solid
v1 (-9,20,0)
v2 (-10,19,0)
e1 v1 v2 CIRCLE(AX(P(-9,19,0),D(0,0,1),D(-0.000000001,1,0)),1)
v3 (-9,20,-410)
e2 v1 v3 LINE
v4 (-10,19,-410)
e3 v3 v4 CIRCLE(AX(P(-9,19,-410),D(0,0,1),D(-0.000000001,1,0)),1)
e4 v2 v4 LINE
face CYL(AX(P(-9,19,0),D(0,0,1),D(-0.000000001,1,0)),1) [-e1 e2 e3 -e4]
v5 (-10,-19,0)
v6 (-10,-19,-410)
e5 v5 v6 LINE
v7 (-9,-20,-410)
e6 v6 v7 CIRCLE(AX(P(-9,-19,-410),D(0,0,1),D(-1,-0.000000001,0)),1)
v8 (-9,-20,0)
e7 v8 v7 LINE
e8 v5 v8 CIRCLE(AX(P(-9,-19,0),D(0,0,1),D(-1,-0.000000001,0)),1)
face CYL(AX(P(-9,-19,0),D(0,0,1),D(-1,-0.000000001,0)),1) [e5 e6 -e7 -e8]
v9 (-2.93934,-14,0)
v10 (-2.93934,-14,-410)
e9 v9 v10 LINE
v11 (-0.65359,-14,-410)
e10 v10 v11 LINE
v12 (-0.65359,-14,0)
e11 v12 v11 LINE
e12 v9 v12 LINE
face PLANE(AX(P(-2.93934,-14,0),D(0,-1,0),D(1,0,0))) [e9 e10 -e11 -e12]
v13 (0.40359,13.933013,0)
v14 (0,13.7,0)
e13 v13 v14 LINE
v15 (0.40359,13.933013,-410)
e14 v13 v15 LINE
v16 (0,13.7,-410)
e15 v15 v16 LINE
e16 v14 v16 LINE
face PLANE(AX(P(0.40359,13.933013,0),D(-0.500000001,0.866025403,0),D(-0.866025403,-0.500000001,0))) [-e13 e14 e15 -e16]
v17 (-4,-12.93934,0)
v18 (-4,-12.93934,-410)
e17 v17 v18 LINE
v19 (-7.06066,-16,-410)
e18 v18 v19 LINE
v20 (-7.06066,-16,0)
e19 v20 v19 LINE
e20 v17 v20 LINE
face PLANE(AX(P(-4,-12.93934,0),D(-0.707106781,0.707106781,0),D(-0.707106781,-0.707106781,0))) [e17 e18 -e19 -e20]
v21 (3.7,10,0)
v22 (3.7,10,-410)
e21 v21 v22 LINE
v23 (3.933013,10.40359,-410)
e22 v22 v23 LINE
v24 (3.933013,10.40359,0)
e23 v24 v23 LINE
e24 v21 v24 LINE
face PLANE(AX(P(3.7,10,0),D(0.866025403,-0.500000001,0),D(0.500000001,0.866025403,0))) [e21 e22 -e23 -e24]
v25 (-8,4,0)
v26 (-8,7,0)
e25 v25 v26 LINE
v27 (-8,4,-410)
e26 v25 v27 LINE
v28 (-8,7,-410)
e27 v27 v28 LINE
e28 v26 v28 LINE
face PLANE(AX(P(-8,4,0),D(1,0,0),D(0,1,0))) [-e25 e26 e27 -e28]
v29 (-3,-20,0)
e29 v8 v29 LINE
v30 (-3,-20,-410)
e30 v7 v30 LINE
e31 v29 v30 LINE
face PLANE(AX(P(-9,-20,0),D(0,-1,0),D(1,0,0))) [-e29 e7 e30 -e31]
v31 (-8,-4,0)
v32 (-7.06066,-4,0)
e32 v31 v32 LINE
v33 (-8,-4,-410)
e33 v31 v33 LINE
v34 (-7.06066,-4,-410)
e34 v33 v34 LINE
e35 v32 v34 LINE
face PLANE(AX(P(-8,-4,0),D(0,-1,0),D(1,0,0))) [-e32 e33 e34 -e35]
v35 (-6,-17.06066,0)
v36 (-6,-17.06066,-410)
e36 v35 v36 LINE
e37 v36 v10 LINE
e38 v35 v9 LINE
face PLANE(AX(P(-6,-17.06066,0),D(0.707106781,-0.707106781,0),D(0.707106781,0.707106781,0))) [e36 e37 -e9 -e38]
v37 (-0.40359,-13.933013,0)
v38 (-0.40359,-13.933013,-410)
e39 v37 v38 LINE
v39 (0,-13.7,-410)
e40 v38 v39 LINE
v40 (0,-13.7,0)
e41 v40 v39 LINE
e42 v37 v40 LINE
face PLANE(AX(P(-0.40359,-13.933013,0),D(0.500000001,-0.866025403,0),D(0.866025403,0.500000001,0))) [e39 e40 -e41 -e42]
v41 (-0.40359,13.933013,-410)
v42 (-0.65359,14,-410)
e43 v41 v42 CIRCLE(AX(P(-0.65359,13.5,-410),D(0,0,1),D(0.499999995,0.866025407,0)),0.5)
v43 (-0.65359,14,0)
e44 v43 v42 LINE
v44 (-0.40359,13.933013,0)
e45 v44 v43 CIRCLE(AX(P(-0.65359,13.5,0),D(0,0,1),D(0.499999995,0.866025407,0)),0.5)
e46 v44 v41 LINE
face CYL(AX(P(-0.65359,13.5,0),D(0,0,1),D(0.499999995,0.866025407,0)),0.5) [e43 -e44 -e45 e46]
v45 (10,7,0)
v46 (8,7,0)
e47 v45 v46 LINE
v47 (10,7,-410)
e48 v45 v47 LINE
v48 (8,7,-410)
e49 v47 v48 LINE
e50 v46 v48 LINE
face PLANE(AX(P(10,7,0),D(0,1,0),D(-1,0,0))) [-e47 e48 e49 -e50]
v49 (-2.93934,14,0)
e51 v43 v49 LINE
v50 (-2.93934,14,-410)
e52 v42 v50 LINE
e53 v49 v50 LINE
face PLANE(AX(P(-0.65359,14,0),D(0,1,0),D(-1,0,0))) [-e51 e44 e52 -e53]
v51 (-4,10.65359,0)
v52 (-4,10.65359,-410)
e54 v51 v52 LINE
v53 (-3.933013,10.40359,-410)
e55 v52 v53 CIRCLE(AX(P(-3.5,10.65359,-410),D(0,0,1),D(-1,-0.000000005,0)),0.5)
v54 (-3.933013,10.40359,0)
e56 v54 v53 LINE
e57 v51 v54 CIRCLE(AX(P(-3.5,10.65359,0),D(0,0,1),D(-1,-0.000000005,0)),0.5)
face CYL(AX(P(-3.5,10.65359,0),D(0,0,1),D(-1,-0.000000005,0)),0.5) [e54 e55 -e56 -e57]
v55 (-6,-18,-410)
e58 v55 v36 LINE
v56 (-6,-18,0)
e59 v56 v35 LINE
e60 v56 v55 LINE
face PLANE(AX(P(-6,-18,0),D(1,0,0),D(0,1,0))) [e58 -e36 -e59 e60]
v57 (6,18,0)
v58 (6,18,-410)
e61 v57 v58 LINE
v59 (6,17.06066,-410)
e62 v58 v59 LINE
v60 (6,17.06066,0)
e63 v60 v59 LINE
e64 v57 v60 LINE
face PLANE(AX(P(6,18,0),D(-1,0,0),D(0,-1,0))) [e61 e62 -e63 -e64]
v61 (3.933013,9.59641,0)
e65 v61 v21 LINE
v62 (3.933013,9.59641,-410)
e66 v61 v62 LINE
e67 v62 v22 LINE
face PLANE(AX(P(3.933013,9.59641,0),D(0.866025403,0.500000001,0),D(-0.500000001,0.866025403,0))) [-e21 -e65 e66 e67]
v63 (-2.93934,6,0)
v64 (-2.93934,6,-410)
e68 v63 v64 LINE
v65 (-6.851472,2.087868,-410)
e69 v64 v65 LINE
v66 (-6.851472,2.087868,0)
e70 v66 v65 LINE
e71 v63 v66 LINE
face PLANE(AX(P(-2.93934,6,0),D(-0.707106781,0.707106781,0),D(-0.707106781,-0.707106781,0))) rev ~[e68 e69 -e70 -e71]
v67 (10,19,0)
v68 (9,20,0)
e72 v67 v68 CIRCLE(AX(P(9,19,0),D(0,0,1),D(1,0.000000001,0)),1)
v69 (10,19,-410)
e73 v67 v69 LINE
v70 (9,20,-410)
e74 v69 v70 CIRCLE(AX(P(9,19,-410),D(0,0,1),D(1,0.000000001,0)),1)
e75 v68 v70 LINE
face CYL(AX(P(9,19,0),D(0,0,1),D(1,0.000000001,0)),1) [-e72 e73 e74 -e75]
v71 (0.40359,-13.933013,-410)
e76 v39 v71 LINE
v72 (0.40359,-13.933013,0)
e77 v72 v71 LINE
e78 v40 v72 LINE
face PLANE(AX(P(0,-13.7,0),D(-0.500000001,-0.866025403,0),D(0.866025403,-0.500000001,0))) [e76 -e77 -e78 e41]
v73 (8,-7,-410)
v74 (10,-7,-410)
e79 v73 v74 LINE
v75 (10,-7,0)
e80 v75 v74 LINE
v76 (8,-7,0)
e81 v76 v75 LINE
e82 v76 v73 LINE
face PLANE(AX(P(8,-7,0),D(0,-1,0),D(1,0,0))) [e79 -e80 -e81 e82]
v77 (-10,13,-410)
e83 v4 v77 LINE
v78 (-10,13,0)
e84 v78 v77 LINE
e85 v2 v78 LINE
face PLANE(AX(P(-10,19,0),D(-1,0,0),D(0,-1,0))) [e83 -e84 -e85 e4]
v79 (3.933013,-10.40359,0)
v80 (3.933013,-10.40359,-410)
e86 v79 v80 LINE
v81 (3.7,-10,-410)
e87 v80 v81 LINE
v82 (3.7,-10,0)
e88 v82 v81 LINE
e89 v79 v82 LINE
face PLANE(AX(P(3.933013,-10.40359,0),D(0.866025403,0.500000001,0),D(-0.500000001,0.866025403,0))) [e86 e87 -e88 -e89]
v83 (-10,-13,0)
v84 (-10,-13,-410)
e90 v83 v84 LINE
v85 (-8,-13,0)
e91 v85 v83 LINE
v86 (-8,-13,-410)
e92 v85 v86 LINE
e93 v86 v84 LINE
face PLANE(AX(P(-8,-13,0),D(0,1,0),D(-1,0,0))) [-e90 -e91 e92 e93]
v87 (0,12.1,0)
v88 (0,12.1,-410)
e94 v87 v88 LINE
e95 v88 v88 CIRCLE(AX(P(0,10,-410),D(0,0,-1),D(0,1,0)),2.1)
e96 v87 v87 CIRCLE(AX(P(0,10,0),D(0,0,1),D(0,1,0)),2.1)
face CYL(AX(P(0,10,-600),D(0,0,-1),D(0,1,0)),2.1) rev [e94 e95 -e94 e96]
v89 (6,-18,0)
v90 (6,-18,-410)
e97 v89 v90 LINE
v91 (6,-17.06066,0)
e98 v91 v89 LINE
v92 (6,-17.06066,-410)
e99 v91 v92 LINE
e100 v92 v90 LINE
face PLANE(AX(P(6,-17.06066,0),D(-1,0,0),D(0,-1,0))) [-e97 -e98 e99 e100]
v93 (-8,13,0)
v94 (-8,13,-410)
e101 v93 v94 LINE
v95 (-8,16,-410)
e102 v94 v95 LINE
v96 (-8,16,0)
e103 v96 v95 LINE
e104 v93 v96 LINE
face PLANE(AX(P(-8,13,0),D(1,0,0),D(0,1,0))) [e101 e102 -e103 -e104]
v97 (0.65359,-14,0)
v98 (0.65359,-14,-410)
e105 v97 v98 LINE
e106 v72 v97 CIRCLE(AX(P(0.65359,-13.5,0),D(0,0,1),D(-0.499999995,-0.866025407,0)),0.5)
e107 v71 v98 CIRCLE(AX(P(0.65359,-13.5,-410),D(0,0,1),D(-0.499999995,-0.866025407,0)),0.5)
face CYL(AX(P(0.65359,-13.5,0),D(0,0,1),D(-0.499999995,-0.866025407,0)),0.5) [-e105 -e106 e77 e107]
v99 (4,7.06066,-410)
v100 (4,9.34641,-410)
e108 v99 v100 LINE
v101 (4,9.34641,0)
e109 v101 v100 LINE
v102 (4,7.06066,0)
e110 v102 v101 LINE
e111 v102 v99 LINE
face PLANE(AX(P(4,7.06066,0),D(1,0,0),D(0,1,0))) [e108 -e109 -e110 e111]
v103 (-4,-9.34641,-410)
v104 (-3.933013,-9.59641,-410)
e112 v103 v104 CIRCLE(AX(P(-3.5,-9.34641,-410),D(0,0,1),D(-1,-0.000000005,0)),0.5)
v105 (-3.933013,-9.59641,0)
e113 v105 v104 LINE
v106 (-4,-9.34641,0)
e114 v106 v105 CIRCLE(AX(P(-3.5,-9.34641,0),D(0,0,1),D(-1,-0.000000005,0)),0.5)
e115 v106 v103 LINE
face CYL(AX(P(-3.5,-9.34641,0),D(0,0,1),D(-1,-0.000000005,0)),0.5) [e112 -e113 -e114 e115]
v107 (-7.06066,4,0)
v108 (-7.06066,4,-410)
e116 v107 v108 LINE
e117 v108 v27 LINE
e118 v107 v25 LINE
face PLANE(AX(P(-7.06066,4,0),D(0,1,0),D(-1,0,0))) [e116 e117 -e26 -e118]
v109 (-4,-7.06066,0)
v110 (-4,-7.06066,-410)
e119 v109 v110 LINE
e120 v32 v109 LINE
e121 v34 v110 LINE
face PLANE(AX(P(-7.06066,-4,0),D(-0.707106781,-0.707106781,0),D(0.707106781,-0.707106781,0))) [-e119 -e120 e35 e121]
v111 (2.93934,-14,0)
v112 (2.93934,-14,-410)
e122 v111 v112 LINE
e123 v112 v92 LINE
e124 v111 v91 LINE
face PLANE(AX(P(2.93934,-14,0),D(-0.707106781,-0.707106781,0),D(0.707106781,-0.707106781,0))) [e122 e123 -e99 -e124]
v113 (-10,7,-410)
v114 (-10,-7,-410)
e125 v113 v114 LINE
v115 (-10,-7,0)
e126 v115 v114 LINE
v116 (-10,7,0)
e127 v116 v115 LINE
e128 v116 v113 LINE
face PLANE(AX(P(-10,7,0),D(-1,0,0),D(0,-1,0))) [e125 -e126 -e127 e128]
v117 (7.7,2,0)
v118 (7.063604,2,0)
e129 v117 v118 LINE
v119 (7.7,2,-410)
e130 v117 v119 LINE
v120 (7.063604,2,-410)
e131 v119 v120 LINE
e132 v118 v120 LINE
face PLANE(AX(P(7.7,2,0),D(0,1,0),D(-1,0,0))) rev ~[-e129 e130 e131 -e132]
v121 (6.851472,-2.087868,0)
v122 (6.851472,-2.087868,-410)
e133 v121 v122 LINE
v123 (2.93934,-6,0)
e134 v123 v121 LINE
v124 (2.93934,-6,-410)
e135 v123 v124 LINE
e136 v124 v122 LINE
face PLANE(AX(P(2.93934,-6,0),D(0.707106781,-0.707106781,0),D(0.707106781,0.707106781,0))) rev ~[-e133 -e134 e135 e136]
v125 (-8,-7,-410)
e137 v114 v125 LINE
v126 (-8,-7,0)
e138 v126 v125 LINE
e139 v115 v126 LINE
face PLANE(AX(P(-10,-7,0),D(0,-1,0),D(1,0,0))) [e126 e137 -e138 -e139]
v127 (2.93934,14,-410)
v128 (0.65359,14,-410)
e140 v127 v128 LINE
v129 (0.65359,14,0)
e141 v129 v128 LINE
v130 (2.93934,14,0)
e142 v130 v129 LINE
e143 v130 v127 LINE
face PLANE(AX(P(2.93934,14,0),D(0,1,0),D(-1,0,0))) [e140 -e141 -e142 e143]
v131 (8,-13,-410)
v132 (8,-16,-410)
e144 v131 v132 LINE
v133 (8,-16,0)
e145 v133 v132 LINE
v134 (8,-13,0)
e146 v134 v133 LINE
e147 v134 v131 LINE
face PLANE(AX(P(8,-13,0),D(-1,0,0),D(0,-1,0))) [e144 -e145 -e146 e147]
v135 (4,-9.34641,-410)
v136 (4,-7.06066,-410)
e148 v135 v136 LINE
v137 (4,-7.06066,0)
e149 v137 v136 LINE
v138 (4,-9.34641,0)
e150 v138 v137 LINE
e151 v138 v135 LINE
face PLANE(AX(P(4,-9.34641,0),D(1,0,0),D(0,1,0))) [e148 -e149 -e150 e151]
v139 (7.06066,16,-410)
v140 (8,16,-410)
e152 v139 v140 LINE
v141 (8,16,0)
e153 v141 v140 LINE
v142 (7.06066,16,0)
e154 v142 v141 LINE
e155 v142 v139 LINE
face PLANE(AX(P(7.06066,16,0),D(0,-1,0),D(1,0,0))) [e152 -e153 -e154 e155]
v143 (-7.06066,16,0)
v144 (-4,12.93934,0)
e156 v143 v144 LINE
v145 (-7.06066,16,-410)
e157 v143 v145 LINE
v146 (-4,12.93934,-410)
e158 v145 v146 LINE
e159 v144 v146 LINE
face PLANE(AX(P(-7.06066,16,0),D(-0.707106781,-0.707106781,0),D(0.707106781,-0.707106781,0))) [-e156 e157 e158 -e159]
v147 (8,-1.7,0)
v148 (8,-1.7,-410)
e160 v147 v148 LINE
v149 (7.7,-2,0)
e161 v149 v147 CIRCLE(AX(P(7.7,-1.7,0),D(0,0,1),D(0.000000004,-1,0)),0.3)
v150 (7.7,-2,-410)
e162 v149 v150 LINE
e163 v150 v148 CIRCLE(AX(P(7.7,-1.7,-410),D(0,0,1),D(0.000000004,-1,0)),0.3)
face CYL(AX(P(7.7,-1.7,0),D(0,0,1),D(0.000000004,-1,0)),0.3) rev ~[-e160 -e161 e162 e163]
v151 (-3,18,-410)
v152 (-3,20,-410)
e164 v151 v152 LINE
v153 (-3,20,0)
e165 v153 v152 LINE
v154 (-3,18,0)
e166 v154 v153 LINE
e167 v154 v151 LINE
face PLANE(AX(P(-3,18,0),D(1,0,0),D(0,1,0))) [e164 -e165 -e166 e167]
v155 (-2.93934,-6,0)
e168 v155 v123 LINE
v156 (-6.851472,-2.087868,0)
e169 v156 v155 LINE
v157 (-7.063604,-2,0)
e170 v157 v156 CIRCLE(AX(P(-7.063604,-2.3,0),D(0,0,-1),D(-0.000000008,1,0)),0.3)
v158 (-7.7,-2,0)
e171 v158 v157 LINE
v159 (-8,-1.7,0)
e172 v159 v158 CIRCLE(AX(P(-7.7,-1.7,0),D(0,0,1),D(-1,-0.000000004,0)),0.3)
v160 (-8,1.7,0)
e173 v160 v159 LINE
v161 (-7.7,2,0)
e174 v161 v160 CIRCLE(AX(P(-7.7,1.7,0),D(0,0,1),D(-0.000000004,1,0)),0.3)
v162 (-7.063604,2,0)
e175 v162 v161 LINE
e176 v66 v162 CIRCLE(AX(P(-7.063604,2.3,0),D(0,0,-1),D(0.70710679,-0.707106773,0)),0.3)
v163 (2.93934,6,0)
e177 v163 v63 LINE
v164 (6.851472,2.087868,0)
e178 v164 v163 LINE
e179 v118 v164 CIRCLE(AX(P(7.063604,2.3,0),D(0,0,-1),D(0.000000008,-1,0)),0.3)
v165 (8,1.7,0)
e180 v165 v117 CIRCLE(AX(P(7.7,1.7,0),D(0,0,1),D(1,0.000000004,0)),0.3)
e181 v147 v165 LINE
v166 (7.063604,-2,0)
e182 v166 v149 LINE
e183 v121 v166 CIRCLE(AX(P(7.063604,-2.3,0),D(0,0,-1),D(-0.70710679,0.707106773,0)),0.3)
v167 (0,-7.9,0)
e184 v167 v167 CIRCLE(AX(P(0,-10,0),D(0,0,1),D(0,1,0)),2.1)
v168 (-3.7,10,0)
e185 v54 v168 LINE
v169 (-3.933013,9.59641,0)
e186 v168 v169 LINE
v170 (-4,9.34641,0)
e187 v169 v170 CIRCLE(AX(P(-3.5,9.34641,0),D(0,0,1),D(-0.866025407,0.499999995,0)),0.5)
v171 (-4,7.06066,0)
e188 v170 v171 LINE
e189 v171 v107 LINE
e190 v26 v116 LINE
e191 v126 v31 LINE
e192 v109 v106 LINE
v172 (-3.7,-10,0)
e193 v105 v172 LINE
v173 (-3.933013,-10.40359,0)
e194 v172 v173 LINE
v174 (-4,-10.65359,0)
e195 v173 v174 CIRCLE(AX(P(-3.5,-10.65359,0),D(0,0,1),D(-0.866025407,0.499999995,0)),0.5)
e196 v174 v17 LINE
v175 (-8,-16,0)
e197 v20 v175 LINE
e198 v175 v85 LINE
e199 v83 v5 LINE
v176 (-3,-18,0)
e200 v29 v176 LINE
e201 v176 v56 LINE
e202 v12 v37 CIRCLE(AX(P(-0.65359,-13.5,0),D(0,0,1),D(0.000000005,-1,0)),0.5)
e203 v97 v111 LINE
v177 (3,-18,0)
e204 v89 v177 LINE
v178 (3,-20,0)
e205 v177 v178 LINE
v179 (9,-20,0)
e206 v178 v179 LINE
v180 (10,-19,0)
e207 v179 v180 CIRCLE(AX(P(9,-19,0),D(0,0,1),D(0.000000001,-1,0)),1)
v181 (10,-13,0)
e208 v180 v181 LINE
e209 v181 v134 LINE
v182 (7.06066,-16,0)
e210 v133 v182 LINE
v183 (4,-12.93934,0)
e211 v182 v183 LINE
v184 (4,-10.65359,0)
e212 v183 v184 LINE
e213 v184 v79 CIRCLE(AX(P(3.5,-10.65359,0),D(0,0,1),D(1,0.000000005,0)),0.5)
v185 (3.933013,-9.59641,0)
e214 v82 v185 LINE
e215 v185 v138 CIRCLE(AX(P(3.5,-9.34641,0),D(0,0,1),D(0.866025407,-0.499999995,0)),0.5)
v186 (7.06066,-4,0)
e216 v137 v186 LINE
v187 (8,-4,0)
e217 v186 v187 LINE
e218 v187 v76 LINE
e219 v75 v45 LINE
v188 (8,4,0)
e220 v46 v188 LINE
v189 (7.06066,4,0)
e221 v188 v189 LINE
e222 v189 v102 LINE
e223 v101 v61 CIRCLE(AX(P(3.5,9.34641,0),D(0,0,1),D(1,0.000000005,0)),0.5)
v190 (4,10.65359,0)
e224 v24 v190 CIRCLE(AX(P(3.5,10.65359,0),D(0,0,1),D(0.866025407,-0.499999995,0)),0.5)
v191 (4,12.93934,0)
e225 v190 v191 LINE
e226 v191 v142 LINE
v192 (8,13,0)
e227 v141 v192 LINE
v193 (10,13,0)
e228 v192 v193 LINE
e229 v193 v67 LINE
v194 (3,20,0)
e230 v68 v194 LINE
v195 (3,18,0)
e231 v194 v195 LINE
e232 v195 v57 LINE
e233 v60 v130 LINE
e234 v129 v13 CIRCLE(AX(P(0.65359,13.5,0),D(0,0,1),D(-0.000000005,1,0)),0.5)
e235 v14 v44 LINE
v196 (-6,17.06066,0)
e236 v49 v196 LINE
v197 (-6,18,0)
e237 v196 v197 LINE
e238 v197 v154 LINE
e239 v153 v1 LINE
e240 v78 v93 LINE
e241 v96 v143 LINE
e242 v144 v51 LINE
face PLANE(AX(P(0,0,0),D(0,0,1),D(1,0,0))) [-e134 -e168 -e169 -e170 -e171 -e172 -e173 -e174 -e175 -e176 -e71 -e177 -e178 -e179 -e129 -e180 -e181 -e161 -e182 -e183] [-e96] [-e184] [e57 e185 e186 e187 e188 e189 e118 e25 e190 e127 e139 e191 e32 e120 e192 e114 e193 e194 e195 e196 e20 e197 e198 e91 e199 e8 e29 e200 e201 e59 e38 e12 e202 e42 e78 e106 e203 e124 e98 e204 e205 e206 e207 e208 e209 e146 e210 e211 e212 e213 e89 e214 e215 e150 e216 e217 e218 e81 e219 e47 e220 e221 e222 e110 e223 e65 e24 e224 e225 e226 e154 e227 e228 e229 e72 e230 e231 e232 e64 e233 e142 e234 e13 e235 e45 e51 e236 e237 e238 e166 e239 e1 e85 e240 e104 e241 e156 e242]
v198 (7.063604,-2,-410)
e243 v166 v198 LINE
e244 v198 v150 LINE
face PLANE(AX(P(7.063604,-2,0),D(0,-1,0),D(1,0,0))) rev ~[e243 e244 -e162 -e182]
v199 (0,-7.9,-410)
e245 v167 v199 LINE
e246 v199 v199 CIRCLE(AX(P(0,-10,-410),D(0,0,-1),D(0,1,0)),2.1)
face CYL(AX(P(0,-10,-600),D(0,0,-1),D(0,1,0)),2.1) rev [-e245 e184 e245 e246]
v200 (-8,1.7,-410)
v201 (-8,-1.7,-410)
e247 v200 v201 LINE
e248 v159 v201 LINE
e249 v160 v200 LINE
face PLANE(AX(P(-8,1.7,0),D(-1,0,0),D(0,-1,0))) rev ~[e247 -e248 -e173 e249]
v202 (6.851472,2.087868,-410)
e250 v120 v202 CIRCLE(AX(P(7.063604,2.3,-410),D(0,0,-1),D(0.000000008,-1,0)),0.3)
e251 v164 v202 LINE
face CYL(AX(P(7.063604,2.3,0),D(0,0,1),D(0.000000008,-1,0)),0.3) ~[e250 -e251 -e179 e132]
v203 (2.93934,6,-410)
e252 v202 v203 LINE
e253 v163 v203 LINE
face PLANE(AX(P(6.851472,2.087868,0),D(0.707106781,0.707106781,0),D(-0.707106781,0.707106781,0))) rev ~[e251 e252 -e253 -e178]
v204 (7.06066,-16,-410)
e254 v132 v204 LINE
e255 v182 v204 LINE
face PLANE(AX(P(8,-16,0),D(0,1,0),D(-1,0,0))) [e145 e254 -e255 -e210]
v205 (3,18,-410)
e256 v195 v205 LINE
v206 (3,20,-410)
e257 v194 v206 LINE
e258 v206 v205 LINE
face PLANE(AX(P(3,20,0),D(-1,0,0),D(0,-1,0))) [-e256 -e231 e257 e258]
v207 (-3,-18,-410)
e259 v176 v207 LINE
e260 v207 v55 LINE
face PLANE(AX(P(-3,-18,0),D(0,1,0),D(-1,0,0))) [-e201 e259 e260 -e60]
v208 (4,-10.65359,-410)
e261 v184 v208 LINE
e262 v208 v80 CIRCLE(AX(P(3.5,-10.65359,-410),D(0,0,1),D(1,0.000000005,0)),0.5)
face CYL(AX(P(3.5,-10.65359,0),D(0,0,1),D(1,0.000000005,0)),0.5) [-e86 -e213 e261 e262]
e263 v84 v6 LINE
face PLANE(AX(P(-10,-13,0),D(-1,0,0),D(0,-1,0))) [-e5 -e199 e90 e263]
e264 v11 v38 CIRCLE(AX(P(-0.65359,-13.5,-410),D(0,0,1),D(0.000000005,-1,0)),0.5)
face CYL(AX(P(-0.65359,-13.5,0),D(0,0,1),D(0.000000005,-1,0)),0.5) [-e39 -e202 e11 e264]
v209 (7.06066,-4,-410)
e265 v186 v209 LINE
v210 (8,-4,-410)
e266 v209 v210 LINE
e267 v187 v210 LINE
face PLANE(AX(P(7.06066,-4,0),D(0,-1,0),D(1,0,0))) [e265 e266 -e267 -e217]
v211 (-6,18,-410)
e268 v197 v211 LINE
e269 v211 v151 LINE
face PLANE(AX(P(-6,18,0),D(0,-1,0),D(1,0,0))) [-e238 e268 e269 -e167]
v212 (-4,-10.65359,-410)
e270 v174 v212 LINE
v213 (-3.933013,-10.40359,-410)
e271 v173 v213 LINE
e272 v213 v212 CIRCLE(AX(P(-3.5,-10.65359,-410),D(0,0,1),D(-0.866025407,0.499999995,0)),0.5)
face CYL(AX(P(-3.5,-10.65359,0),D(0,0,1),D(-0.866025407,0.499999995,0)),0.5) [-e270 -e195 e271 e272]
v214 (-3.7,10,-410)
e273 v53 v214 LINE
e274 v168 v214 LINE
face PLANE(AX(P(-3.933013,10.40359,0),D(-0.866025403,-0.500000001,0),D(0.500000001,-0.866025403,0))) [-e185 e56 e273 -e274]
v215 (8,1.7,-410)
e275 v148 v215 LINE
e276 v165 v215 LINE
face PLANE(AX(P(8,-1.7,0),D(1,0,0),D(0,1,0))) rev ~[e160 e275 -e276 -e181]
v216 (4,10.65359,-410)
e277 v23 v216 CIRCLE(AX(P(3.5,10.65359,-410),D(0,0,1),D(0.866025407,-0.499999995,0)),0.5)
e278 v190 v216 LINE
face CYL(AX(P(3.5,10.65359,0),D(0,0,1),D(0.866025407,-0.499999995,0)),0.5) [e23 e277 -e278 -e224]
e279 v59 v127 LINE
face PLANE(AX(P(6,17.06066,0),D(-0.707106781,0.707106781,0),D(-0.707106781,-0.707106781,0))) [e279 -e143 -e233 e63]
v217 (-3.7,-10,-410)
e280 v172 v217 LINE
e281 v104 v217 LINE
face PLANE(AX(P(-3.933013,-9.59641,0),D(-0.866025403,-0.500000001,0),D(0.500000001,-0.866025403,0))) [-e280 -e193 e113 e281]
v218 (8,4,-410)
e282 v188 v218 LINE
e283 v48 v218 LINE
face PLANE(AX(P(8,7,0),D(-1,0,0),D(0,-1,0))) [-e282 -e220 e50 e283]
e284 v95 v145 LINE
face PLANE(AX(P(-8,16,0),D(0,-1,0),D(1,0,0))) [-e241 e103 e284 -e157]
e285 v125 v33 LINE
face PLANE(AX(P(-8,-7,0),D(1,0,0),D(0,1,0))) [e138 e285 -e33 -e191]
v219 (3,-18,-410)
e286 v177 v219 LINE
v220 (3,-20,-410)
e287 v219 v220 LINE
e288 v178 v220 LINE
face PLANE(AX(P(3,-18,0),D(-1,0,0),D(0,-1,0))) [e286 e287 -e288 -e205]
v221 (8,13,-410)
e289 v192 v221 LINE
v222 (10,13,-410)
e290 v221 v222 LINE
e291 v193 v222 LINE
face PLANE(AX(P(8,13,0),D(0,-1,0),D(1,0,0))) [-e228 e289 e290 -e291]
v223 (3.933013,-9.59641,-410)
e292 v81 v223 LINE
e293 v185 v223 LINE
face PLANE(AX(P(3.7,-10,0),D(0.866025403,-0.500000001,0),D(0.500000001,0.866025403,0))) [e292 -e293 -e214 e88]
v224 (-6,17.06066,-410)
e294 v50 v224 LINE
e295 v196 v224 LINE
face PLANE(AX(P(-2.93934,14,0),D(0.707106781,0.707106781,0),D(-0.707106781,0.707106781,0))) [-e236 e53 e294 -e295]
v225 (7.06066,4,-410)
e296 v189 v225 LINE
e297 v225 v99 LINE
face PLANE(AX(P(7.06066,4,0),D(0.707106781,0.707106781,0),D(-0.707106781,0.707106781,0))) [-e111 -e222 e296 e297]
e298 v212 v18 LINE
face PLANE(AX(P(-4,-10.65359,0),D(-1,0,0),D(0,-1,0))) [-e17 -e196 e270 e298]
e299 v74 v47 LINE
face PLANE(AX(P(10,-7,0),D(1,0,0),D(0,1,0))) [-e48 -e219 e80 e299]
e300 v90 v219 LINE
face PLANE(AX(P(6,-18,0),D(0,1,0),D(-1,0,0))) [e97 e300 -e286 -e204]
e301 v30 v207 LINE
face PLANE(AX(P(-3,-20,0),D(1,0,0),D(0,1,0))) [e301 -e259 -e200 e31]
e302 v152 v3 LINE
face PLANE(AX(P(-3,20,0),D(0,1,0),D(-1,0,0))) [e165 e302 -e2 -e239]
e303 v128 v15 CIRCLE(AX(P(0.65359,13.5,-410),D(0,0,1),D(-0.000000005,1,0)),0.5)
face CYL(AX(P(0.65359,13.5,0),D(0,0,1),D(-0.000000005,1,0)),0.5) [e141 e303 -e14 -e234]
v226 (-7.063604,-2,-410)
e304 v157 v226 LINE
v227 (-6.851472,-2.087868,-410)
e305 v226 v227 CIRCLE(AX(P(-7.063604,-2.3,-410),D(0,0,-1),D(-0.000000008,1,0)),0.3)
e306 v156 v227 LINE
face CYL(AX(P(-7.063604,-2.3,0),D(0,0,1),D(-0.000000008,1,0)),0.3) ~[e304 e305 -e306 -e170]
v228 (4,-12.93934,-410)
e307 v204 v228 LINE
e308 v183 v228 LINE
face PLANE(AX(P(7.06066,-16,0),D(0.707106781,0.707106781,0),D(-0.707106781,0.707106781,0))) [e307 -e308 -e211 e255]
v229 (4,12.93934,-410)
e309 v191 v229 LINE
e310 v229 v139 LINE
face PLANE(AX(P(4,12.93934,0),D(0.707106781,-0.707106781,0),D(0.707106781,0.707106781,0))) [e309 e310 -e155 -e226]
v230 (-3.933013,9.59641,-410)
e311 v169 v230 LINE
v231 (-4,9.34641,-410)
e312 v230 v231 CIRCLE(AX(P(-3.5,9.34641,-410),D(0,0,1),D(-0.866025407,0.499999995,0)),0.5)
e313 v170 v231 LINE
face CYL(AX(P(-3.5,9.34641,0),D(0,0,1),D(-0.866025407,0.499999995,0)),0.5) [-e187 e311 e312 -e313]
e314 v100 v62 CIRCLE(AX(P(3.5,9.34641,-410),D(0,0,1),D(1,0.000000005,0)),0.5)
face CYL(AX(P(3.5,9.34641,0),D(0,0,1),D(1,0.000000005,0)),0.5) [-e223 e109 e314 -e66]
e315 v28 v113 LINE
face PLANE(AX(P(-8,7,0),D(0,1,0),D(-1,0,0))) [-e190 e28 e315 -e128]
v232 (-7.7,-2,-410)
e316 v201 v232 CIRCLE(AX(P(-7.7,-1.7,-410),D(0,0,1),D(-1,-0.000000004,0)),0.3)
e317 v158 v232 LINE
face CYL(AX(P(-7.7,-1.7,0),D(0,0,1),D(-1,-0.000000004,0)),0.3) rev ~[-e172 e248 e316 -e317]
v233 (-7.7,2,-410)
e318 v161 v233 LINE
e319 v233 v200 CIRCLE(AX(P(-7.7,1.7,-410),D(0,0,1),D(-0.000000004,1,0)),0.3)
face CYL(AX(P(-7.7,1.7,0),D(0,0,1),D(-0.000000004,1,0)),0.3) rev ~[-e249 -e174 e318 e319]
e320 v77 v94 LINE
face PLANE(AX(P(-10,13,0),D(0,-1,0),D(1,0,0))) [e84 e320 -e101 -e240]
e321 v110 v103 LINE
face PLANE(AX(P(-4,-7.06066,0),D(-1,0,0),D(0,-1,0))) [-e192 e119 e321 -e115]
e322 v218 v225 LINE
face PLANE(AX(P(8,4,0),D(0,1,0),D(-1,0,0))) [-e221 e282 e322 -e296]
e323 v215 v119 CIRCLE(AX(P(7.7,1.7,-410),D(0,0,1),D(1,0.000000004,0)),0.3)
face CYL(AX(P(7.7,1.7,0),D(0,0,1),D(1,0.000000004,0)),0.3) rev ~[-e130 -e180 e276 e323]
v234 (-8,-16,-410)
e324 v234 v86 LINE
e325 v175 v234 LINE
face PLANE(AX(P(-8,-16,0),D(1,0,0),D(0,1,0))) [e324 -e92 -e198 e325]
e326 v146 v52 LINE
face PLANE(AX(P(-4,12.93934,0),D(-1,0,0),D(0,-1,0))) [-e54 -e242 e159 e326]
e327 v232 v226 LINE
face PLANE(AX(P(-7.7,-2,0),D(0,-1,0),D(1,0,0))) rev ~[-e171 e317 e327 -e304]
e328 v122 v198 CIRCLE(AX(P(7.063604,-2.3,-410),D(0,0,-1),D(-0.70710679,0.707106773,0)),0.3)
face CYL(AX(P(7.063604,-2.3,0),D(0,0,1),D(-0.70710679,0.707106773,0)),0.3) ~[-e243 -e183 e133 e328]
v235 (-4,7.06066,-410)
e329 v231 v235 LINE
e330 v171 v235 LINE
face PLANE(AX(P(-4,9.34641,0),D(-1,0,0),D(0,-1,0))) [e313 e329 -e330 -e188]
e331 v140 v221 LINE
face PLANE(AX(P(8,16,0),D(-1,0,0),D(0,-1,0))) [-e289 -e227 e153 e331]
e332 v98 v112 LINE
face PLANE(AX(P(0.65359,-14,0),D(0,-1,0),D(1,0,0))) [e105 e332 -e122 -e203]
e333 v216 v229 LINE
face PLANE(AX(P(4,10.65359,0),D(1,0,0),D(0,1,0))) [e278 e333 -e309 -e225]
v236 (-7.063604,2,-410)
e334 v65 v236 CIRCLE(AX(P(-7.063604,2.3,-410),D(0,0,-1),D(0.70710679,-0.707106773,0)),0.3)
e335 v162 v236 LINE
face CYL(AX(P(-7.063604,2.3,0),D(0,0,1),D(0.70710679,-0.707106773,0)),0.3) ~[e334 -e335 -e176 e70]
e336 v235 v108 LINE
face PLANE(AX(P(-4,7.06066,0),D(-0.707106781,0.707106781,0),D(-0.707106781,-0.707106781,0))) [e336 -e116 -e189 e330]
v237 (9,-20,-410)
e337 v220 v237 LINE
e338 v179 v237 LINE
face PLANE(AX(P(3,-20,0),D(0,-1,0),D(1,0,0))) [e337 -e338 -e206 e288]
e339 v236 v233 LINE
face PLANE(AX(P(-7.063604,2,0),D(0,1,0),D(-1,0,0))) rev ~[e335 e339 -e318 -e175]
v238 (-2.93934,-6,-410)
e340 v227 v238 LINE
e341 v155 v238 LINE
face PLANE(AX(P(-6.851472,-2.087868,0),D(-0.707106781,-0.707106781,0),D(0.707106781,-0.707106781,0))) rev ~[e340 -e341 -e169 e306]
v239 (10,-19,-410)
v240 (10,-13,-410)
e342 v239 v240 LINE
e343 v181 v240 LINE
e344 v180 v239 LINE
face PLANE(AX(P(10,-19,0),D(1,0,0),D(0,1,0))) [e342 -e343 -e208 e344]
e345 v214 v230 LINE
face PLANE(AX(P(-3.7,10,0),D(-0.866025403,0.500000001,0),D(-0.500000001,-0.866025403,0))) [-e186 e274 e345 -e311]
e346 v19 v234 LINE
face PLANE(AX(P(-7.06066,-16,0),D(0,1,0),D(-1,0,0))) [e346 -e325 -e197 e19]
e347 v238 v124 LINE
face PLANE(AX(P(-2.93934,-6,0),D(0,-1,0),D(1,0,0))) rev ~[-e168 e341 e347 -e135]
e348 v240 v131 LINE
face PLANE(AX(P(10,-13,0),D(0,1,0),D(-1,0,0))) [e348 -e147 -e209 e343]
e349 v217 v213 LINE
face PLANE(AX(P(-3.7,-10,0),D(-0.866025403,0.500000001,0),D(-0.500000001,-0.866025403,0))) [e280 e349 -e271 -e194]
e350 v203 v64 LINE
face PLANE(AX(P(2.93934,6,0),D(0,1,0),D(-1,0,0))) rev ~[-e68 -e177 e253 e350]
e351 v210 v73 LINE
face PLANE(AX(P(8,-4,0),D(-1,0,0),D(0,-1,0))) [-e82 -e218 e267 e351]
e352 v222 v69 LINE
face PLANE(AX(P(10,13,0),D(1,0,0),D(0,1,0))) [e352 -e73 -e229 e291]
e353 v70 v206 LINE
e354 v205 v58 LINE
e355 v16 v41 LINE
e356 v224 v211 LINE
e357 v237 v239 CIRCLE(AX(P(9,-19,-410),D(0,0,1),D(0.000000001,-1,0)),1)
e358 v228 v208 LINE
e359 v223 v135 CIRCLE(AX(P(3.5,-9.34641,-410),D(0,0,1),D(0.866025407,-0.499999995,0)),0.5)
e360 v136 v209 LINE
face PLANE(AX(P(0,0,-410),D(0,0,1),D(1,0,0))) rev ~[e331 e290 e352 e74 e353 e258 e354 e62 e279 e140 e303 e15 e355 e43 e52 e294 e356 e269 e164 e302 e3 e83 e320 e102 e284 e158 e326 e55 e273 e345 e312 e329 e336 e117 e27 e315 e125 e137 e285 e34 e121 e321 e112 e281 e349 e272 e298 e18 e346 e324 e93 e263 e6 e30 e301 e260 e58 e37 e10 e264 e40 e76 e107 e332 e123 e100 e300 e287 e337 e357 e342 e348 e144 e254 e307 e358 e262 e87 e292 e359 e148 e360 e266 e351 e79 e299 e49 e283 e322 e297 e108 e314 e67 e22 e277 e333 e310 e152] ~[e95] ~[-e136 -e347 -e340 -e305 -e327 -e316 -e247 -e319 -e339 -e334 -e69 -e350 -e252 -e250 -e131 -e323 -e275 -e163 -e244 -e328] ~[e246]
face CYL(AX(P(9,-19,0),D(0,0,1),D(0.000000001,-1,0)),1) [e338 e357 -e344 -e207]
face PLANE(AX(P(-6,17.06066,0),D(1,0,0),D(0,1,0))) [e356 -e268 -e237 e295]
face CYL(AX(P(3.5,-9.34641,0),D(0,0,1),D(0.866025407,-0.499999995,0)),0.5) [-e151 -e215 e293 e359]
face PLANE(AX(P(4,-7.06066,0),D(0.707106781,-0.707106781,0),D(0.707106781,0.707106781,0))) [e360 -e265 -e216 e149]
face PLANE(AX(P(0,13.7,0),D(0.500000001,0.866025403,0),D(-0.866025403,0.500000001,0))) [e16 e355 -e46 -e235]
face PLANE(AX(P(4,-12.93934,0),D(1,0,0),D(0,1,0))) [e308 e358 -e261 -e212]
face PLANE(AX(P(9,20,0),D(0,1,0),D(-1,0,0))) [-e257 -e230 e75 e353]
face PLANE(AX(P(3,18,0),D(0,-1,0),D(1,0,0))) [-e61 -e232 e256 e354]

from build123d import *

# Parameters (mm, degrees)
BOSS_EXTRUDE1_DEPTH = 410
SKETCH2_W           = 1200
SKETCH2_H           = 2.1
SKETCH3_W           = 1200
SKETCH3_H           = 2.1


with BuildPart() as part:
    # Sketch1 → Boss-Extrude1 (new body)
    with BuildSketch(Plane.XY):
        with BuildLine():
            Line((-9, -20), (-3, -20))
            Line((-3, -20), (-3, -18))
            Line((-3, -18), (-6, -18))
            Line((-6, -18), (-6, -17.060660172))
            Line((-6, -17.060660172), (-2.939339828, -14))
            Line((-2.939339828, -14), (-2.5, -14))
            Line((-2.5, -14), (-0.653589838, -14))
            ThreePointArc((-0.653589838, -14), (-0.524180316, -13.982962913), (-0.403589838, -13.933012702))
            Line((-0.403589838, -13.933012702), (0, -13.7))
            Line((0, -13.7), (0.403589838, -13.933012702))
            ThreePointArc((0.403589838, -13.933012702), (0.524180316, -13.982962913), (0.653589838, -14))
            Line((0.653589838, -14), (2.939339828, -14))
            Line((2.939339828, -14), (6, -17.060660172))
            Line((6, -17.060660172), (6, -18))
            Line((6, -18), (3, -18))
            Line((3, -18), (3, -20))
            Line((3, -20), (9, -20))
            ThreePointArc((9, -20), (9.707106781, -19.707106781), (10, -19))
            Line((10, -19), (10, -13))
            Line((10, -13), (8, -13))
            Line((8, -13), (8, -16))
            Line((8, -16), (7.060660172, -16))
            Line((7.060660172, -16), (4, -12.939339828))
            Line((4, -12.939339828), (4, -12.5))
            Line((4, -12.5), (4, -10.653589838))
            ThreePointArc((4, -10.653589838), (3.982962913, -10.524180316), (3.933012702, -10.403589838))
            Line((3.933012702, -10.403589838), (3.7, -10))
            Line((3.7, -10), (3.933012702, -9.596410162))
            ThreePointArc((3.933012702, -9.596410162), (3.982962913, -9.475819684), (4, -9.346410162))
            Line((4, -9.346410162), (4, -7.060660172))
            Line((4, -7.060660172), (7.060660172, -4))
            Line((7.060660172, -4), (8, -4))
            Line((8, -4), (8, -7))
            Line((8, -7), (10, -7))
            Line((10, -7), (10, 7))
            Line((10, 7), (8, 7))
            Line((8, 7), (8, 4))
            Line((8, 4), (7.060660172, 4))
            Line((7.060660172, 4), (4, 7.060660172))
            Line((4, 7.060660172), (4, 9.346410162))
            ThreePointArc((4, 9.346410162), (3.982962913, 9.475819684), (3.933012702, 9.596410162))
            Line((3.933012702, 9.596410162), (3.7, 10))
            Line((3.7, 10), (3.933012702, 10.403589838))
            ThreePointArc((3.933012702, 10.403589838), (3.982962913, 10.524180316), (4, 10.653589838))
            Line((4, 10.653589838), (4, 12.5))
            Line((4, 12.5), (4, 12.939339828))
            Line((4, 12.939339828), (7.060660172, 16))
            Line((7.060660172, 16), (8, 16))
            Line((8, 16), (8, 13))
            Line((8, 13), (10, 13))
            Line((10, 13), (10, 19))
            ThreePointArc((10, 19), (9.707106781, 19.707106781), (9, 20))
            Line((9, 20), (3, 20))
            Line((3, 20), (3, 18))
            Line((3, 18), (6, 18))
            Line((6, 18), (6, 17.060660172))
            Line((6, 17.060660172), (2.939339828, 14))
            Line((2.939339828, 14), (0.653589838, 14))
            ThreePointArc((0.653589838, 14), (0.524180316, 13.982962913), (0.403589838, 13.933012702))
            Line((0.403589838, 13.933012702), (0, 13.7))
            Line((0, 13.7), (-0.403589838, 13.933012702))
            ThreePointArc((-0.403589838, 13.933012702), (-0.524180316, 13.982962913), (-0.653589838, 14))
            Line((-0.653589838, 14), (-2.5, 14))
            Line((-2.5, 14), (-2.939339828, 14))
            Line((-2.939339828, 14), (-6, 17.060660172))
            Line((-6, 17.060660172), (-6, 18))
            Line((-6, 18), (-3, 18))
            Line((-3, 18), (-3, 20))
            Line((-3, 20), (-9, 20))
            ThreePointArc((-9, 20), (-9.707106781, 19.707106781), (-10, 19))
            Line((-10, 19), (-10, 13))
            Line((-10, 13), (-8, 13))
            Line((-8, 13), (-8, 16))
            Line((-8, 16), (-7.060660172, 16))
            Line((-7.060660172, 16), (-4, 12.939339828))
            Line((-4, 12.939339828), (-4, 10.653589838))
            ThreePointArc((-4, 10.653589838), (-3.982962913, 10.524180316), (-3.933012702, 10.403589838))
            Line((-3.933012702, 10.403589838), (-3.7, 10))
            Line((-3.7, 10), (-3.933012702, 9.596410162))
            ThreePointArc((-3.933012702, 9.596410162), (-3.982962913, 9.475819684), (-4, 9.346410162))
            Line((-4, 9.346410162), (-4, 7.5))
            Line((-4, 7.5), (-4, 7.060660172))
            Line((-4, 7.060660172), (-7.060660172, 4))
            Line((-7.060660172, 4), (-8, 4))
            Line((-8, 4), (-8, 7))
            Line((-8, 7), (-10, 7))
            Line((-10, 7), (-10, -7))
            Line((-10, -7), (-8, -7))
            Line((-8, -7), (-8, -4))
            Line((-8, -4), (-7.060660172, -4))
            Line((-7.060660172, -4), (-4, -7.060660172))
            Line((-4, -7.060660172), (-4, -7.5))
            Line((-4, -7.5), (-4, -9.346410162))
            ThreePointArc((-4, -9.346410162), (-3.982962913, -9.475819684), (-3.933012702, -9.596410162))
            Line((-3.933012702, -9.596410162), (-3.7, -10))
            Line((-3.7, -10), (-3.933012702, -10.403589838))
            ThreePointArc((-3.933012702, -10.403589838), (-3.982962913, -10.524180316), (-4, -10.653589838))
            Line((-4, -10.653589838), (-4, -12.939339828))
            Line((-4, -12.939339828), (-7.060660172, -16))
            Line((-7.060660172, -16), (-8, -16))
            Line((-8, -16), (-8, -13))
            Line((-8, -13), (-10, -13))
            Line((-10, -13), (-10, -19))
            ThreePointArc((-10, -19), (-9.707106781, -19.707106781), (-9, -20))
        make_face()
        with BuildLine():
            Line((-7.7, -2), (-7.063603897, -2))
            ThreePointArc((-7.063603897, -2), (-6.948798867, -2.02283614), (-6.851471863, -2.087867966))
            Line((-6.851471863, -2.087867966), (-2.939339828, -6))
            Line((-2.939339828, -6), (2.939339828, -6))
            Line((2.939339828, -6), (6.851471863, -2.087867966))
            ThreePointArc((6.851471863, -2.087867966), (6.948798867, -2.02283614), (7.063603897, -2))
            Line((7.063603897, -2), (7.7, -2))
            ThreePointArc((7.7, -2), (7.912132034, -1.912132034), (8, -1.7))
            Line((8, -1.7), (8, 1.7))
            ThreePointArc((8, 1.7), (7.912132034, 1.912132034), (7.7, 2))
            Line((7.7, 2), (7.063603897, 2))
            ThreePointArc((7.063603897, 2), (6.948798867, 2.02283614), (6.851471863, 2.087867966))
            Line((6.851471863, 2.087867966), (2.939339828, 6))
            Line((2.939339828, 6), (-2.939339828, 6))
            Line((-2.939339828, 6), (-6.851471863, 2.087867966))
            ThreePointArc((-6.851471863, 2.087867966), (-6.948798867, 2.02283614), (-7.063603897, 2))
            Line((-7.063603897, 2), (-7.7, 2))
            ThreePointArc((-7.7, 2), (-7.912132034, 1.912132034), (-8, 1.7))
            Line((-8, 1.7), (-8, -1.7))
            ThreePointArc((-8, -1.7), (-7.912132034, -1.912132034), (-7.7, -2))
        make_face(mode=Mode.SUBTRACT)
    extrude(amount=-BOSS_EXTRUDE1_DEPTH)

    # Sketch2 → Cut-Revolve1 (revolve, cut)
    with BuildSketch(Plane(origin=(0, 0, 0), x_dir=(0, 0, -1), z_dir=(1, 0, 0))):
        with Locations((600, 11.05)):
            Rectangle(SKETCH2_W, SKETCH2_H)
    revolve(axis=Axis((0, 10, -1200), (0, 0, 1)), mode=Mode.SUBTRACT)

    # Sketch3 → Cut-Revolve2 (revolve, cut)
    with BuildSketch(Plane(origin=(0, 0, 0), x_dir=(0, 0, -1), z_dir=(1, 0, 0))):
        with Locations((600, -8.95)):
            Rectangle(SKETCH3_W, SKETCH3_H)
    revolve(axis=Axis((0, -10, -1200), (0, 0, 1)), mode=Mode.SUBTRACT)


solid = part.part
